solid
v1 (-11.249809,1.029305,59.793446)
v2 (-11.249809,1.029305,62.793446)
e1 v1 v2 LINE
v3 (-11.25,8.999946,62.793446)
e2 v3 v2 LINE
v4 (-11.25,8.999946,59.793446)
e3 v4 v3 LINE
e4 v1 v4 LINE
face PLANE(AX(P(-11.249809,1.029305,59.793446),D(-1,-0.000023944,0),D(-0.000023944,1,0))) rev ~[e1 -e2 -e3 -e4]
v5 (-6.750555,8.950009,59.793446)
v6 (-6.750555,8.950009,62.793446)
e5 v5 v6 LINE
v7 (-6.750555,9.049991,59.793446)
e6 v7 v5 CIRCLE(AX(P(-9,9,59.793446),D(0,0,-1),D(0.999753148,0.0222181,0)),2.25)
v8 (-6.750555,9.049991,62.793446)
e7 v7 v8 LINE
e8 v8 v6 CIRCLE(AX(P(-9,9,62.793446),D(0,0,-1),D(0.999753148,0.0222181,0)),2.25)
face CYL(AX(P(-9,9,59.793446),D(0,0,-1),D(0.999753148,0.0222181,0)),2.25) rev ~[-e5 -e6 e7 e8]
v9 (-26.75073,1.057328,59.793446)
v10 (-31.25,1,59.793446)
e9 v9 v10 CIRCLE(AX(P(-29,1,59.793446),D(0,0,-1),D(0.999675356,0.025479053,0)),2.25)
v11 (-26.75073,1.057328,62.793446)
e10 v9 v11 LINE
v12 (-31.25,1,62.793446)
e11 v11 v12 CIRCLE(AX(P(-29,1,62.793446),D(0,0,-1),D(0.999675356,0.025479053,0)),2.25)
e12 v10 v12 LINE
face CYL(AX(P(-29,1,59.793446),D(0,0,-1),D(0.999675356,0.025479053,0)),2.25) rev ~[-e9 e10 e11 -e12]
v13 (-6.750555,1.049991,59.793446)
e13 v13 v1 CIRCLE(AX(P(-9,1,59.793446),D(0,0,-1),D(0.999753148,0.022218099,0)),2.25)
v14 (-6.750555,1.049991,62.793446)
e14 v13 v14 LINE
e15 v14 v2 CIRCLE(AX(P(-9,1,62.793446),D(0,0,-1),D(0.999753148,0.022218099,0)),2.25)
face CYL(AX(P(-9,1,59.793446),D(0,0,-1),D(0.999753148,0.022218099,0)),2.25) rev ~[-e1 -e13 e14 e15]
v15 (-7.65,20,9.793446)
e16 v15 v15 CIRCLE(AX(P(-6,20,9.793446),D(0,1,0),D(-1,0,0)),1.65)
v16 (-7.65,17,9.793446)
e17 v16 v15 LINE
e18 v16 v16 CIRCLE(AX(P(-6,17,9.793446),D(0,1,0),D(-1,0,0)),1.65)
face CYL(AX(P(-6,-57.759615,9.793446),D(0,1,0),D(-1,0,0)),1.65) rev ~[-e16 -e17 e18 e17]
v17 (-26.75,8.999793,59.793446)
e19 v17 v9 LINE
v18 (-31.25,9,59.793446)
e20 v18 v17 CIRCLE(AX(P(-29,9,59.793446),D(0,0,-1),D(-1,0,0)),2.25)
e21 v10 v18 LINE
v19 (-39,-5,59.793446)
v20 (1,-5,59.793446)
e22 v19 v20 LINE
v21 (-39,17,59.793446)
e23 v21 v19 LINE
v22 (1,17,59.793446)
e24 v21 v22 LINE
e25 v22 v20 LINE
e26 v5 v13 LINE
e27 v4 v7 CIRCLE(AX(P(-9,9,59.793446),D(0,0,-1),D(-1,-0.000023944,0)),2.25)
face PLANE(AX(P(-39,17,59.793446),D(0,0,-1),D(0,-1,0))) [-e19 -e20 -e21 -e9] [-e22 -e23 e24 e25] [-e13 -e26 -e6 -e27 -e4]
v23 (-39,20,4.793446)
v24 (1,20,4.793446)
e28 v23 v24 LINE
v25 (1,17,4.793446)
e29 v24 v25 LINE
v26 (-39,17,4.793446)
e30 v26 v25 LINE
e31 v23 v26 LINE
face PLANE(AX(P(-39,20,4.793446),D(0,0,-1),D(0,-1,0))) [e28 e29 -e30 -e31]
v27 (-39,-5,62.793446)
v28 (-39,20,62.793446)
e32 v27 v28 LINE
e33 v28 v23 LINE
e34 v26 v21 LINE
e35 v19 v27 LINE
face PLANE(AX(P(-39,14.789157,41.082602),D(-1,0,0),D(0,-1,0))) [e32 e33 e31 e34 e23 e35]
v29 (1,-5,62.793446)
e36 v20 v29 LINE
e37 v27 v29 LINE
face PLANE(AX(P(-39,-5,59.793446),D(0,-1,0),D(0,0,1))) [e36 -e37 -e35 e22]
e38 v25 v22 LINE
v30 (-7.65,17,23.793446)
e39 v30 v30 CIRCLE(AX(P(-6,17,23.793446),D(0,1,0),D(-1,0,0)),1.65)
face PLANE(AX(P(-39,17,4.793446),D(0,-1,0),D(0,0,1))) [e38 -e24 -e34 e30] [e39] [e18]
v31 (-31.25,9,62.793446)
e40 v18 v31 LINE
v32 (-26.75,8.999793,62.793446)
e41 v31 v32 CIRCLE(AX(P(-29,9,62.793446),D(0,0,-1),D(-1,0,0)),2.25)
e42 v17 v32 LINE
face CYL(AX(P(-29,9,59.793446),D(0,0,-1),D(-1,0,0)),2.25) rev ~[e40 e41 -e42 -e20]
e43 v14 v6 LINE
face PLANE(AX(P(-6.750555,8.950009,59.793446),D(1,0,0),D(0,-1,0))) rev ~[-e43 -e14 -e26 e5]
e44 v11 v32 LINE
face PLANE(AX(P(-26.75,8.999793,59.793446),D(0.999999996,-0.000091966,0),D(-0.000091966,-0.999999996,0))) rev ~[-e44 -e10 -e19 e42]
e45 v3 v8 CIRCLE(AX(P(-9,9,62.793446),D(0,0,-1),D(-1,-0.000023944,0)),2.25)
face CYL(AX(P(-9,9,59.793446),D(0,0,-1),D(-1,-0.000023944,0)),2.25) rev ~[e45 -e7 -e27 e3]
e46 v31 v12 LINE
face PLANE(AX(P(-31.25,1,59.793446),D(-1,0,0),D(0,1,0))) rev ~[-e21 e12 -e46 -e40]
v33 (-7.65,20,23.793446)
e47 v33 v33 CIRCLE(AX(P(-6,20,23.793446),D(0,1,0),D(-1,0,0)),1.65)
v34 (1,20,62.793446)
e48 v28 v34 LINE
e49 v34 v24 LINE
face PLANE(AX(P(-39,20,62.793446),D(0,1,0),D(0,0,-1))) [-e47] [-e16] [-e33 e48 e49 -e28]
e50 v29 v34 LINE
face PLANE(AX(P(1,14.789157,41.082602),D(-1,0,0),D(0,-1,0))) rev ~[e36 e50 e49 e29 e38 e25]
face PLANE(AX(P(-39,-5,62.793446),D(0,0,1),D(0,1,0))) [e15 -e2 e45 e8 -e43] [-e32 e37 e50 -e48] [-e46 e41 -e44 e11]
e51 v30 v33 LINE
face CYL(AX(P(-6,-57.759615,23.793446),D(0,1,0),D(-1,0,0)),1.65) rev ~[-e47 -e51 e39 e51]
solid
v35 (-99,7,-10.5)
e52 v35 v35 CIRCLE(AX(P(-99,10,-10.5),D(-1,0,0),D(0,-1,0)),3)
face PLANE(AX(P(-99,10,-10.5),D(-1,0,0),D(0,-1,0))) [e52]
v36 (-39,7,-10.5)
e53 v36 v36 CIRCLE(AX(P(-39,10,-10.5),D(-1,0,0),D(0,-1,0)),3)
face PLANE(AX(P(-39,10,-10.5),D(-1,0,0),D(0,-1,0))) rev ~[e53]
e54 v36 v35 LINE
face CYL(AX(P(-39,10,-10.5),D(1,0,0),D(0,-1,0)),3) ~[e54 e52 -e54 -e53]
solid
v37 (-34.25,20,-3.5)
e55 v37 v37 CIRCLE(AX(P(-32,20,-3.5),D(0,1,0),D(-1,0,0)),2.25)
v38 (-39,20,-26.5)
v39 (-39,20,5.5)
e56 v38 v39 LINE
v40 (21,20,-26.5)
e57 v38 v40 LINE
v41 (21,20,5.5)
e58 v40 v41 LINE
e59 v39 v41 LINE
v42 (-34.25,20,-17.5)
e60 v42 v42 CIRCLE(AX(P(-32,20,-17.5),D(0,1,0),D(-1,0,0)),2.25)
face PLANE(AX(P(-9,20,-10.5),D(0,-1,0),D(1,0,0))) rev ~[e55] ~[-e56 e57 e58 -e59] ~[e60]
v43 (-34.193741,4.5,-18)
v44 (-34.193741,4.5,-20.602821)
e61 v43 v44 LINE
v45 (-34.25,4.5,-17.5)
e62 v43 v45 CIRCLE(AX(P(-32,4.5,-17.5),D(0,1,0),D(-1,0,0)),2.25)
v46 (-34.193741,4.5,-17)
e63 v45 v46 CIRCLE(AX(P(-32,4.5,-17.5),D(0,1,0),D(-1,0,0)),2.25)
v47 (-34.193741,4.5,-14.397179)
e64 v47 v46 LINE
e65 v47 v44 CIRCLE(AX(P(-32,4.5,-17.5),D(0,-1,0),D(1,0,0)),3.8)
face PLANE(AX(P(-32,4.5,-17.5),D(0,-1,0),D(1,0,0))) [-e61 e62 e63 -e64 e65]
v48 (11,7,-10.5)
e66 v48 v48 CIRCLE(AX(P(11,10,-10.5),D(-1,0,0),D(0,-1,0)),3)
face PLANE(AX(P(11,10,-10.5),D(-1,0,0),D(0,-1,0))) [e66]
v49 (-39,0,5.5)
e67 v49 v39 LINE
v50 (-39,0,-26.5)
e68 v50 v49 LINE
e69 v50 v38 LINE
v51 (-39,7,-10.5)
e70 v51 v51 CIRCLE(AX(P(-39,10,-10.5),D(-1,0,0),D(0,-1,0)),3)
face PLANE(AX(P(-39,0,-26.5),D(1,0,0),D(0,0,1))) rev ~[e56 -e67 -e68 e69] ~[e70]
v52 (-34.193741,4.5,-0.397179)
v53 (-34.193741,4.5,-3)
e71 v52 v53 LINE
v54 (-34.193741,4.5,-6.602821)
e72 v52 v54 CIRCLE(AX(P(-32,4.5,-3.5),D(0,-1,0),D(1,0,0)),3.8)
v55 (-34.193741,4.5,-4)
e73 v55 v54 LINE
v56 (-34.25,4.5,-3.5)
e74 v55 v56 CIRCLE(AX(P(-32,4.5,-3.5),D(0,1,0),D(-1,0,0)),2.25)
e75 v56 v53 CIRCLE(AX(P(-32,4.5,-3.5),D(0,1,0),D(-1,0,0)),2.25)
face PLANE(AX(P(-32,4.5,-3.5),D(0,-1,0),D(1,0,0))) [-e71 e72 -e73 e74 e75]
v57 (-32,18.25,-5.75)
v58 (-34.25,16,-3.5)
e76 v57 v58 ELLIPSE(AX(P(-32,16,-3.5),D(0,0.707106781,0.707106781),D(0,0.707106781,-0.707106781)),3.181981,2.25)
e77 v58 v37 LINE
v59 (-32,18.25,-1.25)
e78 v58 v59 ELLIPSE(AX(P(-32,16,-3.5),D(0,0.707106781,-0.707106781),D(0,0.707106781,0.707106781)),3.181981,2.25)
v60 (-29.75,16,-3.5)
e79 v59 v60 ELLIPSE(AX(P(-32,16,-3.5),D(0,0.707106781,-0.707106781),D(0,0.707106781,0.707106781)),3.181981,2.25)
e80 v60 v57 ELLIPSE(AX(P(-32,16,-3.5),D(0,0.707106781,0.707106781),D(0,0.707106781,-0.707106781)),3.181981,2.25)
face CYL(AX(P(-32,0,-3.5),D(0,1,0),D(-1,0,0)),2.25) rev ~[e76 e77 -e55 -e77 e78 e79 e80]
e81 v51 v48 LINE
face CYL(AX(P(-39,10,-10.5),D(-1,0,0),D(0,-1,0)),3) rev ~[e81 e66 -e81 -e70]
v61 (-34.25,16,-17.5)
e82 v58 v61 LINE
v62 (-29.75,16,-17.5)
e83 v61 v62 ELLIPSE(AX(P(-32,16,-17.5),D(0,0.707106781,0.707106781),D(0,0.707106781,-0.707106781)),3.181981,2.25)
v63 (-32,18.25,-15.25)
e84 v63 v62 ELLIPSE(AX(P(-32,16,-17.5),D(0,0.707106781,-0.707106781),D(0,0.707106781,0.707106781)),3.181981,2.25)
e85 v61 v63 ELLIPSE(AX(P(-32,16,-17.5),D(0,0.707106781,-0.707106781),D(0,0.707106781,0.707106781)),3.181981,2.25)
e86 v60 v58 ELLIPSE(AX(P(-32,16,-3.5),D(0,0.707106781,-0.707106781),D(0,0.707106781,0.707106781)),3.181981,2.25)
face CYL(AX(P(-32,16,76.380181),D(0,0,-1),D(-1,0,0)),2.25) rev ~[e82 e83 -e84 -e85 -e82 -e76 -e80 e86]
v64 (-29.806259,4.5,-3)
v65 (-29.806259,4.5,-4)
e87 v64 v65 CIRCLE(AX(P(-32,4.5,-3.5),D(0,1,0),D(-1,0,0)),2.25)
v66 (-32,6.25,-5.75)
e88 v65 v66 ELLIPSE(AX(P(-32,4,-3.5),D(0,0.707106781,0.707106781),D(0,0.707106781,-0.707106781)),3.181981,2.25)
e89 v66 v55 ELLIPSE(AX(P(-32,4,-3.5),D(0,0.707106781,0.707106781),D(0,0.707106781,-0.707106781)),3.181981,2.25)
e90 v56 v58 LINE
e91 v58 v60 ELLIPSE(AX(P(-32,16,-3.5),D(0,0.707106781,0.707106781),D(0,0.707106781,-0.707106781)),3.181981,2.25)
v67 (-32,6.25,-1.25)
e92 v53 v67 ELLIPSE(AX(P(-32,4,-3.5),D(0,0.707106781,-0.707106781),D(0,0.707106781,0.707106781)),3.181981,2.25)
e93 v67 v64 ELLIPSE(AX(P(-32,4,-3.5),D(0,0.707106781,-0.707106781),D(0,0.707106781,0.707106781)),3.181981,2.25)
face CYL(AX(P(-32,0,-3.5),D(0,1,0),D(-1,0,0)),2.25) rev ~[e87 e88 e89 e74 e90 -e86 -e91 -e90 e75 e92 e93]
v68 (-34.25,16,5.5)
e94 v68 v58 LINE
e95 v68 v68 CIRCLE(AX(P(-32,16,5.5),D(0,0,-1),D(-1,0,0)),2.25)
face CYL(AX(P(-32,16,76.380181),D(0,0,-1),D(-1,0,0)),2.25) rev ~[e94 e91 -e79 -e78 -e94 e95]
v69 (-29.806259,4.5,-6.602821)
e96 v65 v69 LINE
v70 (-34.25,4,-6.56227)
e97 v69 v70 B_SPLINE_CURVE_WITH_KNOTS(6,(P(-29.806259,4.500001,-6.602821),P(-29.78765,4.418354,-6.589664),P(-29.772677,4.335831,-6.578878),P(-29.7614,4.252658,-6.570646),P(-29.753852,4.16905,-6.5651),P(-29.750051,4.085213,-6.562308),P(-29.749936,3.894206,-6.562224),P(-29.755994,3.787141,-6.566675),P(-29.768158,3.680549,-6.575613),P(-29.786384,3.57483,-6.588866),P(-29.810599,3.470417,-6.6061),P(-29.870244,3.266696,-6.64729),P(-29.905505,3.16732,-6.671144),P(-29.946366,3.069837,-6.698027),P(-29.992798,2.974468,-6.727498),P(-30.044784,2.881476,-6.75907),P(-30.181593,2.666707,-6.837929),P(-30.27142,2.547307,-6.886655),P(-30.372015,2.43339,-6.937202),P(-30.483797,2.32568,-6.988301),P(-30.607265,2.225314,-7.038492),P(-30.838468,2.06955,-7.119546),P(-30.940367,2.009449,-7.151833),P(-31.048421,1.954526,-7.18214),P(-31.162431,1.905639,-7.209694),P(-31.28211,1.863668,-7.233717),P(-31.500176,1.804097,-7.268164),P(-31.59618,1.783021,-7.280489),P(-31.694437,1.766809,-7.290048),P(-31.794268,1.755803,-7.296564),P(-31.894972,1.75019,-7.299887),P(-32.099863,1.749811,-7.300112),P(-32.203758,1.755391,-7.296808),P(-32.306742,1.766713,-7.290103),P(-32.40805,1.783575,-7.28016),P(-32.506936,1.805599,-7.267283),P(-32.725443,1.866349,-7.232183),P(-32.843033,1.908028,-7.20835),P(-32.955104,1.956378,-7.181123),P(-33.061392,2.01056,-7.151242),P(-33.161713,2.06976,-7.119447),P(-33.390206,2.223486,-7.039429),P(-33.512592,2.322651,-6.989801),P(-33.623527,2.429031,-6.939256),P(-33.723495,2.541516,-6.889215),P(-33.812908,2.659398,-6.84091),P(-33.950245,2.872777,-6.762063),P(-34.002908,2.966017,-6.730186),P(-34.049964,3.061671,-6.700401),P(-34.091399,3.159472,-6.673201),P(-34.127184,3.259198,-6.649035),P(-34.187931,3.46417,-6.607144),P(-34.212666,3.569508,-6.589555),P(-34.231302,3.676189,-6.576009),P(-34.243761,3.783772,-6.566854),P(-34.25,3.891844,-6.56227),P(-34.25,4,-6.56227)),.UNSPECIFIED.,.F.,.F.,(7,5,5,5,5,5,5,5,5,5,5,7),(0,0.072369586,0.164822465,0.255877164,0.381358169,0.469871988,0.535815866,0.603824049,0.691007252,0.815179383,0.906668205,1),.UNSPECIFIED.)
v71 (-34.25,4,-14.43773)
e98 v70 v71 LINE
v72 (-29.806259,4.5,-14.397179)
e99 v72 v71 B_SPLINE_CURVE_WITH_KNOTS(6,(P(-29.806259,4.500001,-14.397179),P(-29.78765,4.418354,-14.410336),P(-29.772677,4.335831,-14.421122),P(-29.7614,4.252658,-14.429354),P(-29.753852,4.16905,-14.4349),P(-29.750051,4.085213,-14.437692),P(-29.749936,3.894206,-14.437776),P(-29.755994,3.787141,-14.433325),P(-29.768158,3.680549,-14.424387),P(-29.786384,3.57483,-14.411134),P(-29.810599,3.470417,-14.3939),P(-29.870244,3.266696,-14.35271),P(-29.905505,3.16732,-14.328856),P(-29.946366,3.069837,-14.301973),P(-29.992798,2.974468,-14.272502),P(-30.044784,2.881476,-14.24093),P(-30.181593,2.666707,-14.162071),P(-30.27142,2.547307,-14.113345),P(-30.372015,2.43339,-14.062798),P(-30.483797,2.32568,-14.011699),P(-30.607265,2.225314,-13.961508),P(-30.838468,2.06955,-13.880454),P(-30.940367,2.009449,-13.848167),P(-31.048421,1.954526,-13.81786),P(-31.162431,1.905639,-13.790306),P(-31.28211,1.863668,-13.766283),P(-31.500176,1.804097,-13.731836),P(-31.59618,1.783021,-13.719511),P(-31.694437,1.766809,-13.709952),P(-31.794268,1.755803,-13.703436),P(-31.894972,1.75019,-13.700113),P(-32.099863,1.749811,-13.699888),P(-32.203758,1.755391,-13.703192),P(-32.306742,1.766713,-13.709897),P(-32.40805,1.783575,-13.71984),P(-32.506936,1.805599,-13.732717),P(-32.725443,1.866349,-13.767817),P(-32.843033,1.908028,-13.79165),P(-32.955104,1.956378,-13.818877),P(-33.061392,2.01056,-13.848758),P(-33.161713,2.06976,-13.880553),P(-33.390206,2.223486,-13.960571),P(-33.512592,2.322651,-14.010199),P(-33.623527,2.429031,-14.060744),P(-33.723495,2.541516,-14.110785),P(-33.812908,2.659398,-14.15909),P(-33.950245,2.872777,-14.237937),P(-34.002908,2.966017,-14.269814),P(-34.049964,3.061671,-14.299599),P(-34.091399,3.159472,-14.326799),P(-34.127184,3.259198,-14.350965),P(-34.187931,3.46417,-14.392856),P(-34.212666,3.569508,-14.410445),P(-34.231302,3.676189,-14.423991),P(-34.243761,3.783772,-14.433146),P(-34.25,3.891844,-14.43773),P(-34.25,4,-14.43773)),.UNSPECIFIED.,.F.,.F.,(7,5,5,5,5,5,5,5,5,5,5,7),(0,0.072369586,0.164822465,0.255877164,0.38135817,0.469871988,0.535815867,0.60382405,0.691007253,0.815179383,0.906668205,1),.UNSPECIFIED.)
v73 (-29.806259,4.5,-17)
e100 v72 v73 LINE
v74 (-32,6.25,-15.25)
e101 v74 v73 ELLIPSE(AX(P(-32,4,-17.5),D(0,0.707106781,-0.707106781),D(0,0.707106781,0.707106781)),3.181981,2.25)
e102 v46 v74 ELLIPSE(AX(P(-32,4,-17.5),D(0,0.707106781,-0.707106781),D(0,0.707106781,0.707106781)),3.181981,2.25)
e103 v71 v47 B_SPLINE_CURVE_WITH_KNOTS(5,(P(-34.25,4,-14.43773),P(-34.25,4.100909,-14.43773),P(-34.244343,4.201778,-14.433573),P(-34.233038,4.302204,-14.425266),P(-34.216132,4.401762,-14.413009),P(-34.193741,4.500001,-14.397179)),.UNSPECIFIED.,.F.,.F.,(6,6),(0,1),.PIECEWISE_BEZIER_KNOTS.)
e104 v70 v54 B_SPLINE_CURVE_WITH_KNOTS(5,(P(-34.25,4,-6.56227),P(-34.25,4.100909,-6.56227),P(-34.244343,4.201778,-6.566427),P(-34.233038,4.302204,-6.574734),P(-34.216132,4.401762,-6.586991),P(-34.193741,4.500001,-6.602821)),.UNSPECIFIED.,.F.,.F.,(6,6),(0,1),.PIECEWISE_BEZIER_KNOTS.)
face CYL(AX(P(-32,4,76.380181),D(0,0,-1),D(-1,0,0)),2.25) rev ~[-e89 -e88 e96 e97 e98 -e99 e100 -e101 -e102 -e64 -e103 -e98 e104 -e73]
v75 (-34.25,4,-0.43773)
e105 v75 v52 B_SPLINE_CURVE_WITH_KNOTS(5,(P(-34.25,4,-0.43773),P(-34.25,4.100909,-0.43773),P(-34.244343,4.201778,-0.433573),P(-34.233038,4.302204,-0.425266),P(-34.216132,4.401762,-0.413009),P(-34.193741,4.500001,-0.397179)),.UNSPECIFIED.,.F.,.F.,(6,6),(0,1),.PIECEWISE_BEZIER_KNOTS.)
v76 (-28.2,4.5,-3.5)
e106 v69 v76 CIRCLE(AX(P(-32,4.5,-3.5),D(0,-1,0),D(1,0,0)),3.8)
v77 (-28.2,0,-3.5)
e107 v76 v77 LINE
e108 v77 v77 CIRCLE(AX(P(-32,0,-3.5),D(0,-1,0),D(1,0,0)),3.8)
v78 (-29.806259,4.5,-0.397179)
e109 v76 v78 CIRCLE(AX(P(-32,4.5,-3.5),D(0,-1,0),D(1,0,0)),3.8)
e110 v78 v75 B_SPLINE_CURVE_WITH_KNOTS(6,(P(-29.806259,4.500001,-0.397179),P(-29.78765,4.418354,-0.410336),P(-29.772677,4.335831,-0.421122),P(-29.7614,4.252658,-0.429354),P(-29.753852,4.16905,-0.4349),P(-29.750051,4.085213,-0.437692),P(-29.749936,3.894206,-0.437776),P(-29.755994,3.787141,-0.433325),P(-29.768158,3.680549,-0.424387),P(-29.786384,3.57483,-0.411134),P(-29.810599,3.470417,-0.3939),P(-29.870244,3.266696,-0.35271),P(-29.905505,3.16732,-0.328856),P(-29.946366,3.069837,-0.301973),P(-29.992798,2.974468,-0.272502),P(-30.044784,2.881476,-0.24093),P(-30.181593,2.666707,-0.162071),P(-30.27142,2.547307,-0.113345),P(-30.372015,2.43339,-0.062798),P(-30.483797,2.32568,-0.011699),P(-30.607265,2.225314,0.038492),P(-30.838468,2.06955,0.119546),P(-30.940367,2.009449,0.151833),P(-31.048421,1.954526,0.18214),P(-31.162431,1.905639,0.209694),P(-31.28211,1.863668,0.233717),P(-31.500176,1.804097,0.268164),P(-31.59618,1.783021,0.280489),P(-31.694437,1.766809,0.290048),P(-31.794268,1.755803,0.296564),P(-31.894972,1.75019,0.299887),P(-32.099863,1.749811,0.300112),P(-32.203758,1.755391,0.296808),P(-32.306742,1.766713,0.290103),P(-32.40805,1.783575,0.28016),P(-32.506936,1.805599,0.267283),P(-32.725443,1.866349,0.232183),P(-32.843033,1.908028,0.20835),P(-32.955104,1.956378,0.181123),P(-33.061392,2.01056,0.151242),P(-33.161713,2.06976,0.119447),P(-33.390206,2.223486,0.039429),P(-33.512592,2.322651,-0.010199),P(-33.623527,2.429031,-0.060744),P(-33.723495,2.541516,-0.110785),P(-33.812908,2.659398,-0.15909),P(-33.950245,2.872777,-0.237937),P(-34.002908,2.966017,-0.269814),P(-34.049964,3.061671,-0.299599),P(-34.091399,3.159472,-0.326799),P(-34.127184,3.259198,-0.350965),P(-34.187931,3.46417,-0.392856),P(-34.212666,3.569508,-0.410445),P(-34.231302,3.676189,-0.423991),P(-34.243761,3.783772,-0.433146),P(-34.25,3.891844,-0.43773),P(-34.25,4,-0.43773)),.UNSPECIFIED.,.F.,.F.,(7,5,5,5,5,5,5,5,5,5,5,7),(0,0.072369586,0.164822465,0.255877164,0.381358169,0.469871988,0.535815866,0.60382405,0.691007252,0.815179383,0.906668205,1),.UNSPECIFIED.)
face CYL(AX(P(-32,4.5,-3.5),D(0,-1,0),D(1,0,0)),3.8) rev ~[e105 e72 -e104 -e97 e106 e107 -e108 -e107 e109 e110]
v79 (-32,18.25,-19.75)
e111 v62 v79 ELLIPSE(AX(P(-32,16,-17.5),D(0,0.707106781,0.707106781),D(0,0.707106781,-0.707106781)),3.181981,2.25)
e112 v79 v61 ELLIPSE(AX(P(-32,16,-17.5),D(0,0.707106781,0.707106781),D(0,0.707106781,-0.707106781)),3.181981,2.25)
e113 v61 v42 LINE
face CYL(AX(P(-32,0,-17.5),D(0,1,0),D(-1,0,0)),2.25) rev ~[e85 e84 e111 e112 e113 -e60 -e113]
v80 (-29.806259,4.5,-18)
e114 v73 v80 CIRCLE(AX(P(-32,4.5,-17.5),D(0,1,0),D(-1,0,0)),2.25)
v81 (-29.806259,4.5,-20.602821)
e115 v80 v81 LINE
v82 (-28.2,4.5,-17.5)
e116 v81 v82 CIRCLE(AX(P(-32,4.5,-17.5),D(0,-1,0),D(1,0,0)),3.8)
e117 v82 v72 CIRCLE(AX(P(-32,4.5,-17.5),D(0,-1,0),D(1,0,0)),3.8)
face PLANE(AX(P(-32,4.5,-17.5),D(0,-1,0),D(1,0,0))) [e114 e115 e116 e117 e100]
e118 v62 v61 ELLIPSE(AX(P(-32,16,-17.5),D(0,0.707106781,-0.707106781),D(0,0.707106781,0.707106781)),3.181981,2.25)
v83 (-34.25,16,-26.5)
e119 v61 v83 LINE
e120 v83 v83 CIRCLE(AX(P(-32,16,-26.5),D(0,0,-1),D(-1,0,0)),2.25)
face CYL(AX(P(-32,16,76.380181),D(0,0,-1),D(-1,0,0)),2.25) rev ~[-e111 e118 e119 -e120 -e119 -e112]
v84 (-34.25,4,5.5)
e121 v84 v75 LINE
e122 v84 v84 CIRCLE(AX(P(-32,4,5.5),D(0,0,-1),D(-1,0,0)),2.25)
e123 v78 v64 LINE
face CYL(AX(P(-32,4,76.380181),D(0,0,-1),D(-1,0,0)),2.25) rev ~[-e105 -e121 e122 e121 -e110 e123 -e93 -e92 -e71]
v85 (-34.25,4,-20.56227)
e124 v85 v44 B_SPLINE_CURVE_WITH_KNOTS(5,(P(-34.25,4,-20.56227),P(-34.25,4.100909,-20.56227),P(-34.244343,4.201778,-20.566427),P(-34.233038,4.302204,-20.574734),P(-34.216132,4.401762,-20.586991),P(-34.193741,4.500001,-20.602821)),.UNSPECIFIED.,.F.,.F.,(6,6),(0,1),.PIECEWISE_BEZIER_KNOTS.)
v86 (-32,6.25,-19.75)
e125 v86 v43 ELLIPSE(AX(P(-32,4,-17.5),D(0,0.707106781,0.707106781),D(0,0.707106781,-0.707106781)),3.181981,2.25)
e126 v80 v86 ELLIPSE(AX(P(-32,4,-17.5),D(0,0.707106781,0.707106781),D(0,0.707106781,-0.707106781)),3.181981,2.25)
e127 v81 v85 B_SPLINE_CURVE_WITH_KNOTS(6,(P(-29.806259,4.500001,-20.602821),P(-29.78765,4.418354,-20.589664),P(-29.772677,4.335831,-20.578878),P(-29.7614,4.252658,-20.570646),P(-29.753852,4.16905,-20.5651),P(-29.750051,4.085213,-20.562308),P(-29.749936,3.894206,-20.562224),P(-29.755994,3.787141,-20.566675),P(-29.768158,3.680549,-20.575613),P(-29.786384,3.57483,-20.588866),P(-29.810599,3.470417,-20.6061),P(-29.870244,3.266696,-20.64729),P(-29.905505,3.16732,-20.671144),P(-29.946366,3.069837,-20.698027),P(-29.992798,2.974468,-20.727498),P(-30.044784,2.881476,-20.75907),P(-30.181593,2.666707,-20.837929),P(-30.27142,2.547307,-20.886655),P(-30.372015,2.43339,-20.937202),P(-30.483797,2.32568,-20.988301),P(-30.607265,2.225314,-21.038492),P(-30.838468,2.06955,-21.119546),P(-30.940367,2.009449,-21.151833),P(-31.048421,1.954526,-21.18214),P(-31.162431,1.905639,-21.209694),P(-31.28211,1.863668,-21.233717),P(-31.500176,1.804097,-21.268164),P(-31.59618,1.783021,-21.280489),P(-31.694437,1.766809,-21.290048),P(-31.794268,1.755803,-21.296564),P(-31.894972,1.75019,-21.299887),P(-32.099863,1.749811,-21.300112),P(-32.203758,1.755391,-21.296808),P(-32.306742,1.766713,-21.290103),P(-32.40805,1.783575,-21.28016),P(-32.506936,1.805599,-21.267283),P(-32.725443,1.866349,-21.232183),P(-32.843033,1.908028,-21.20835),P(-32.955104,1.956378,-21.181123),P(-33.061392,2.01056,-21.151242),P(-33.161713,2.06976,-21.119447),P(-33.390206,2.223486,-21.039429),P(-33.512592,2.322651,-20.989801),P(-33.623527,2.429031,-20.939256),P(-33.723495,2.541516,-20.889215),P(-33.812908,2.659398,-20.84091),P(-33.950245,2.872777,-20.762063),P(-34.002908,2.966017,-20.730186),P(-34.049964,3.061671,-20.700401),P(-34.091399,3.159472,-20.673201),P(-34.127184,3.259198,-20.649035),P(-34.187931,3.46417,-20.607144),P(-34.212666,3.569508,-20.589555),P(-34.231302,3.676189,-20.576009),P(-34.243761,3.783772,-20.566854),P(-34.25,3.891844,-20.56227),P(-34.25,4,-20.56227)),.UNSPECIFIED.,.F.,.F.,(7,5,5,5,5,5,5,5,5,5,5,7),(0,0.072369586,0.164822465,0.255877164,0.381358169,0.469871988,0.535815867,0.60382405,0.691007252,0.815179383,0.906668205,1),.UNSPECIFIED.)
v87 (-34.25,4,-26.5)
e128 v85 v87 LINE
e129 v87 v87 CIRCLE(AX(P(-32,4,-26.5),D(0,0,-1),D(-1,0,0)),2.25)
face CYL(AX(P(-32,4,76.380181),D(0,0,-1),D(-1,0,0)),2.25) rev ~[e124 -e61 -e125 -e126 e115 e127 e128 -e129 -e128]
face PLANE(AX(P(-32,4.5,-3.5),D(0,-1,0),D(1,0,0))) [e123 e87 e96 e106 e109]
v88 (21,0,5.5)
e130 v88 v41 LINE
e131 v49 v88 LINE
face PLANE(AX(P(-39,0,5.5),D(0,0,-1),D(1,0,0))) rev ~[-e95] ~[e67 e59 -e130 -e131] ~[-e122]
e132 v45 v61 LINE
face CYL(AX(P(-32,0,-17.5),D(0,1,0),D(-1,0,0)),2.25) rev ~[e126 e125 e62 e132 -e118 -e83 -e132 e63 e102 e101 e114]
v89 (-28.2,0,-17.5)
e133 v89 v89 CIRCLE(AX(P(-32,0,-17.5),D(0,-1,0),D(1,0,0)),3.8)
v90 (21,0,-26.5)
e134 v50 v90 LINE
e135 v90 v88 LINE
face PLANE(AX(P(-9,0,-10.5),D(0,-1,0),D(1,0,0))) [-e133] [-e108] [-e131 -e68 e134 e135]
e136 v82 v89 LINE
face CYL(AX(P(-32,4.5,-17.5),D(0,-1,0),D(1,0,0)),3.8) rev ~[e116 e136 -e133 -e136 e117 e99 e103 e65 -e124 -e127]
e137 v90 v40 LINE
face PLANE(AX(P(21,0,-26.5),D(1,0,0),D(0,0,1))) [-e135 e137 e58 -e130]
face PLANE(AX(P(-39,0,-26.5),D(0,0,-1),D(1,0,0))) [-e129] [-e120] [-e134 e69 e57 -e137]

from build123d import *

# Parameters (mm, degrees)
F0_W           = 60
F0_H           = 32
F1_DEPTH       = 20
F2_R           = 3
F3_DEPTH       = 60
F5_D           = 4.5
F5_CBORE_D     = 7.6
F5_CBORE_DEPTH = 4.5
F7_DEPTH       = 40
F10_D          = 4.5
F11_R          = 3
F12_DEPTH      = 50
F13_D          = 3.3
F15_DEPTH      = 25


with BuildPart() as f1:
    # F0 (on Front) → F1 (new body)
    with BuildSketch(Plane.XZ):
        with Locations((-9, -10.5)):
            Rectangle(F0_W, F0_H)
    extrude(amount=-F1_DEPTH)

    # F5 (through all)
    with Locations(Plane.XZ):
        with Locations((-32, -3.5), (-32, -17.5)):
            CounterBoreHole(F5_D / 2, F5_CBORE_D / 2, F5_CBORE_DEPTH)

    # F10 (through all)
    with Locations(Plane.XY.offset(5.5)):
        with Locations((-32, 16), (-32, 4)):
            Hole(F10_D / 2)

    # F11 (on face) → F12 (cut)
    with BuildSketch(Plane(origin=(-39, 0, 0), x_dir=(0, -1, 0), z_dir=(-1, 0, 0))):
        with Locations((-10, -10.5)):
            Circle(F11_R)
    extrude(amount=-F12_DEPTH, mode=Mode.SUBTRACT)


with BuildPart() as f3:
    # F2 (on face) → F3 (new body)
    with BuildSketch(Plane(origin=(-39, 0, 0), x_dir=(0, -1, 0), z_dir=(-1, 0, 0))):
        with Locations((-10, -10.5)):
            Circle(F2_R)
    extrude(amount=F3_DEPTH)


with BuildPart() as f7:
    # F6 (on face) → F7 (new body)
    with BuildSketch(Plane(origin=(-39, 0, 0), x_dir=(0, -1, 0), z_dir=(-1, 0, 0))):
        Polygon((-20, 62.7934455797), (-20, 4.7934455797), (-17, 4.7934455797), (-17, 59.7934455797), (5, 59.7934455797), (5, 62.7934455797), align=None)
    extrude(amount=-F7_DEPTH)

    # F13 (through all)
    with Locations(Plane.XZ.offset(-17)):
        with Locations((-6, 23.7934455797), (-6, 9.7934455797)):
            Hole(F13_D / 2)

    # F14 (on face) → F15 (cut)
    with BuildSketch(Plane(origin=(0, 0, 59.7934455797), x_dir=(1, 0, 0), z_dir=(0, 0, -1))):
        with BuildLine():
            Line((-26.7500000095, -8.9997930759), (-26.7507304485, -1.0573278685))
            ThreePointArc((-26.7507304485, -1.0573278685), (-28.9713337391, 1.2498173805), (-31.25, -1))
            Line((-31.25, -1), (-31.25, -9))
            ThreePointArc((-31.25, -9), (-28.9998965379, -11.2499999976), (-26.7500000095, -8.9997930759))
        make_face()
        with BuildLine():
            Line((-11.249809153, -1.0293048642), (-11.2499999994, -8.9999461268))
            ThreePointArc((-11.2499999994, -8.9999461268), (-9.025023839, -11.2498608418), (-6.750555418, -9.0499907226))
            Line((-6.750555418, -9.0499907226), (-6.750555418, -8.9500092774))
            Line((-6.750555418, -8.9500092774), (-6.750555418, -1.0499907226))
            ThreePointArc((-6.750555418, -1.0499907226), (-8.9896554646, 1.24997622), (-11.249809153, -1.0293048642))
        make_face()
        with BuildLine():
            Line((-6.750555418, -8.9500092774), (-6.750555418, -9.0499907226))
            ThreePointArc((-6.750555418, -9.0499907226), (-6.75, -9), (-6.750555418, -8.9500092774))
        make_face()
    extrude(amount=-F15_DEPTH, mode=Mode.SUBTRACT)


solid = Compound([f1.part, f3.part, f7.part])
